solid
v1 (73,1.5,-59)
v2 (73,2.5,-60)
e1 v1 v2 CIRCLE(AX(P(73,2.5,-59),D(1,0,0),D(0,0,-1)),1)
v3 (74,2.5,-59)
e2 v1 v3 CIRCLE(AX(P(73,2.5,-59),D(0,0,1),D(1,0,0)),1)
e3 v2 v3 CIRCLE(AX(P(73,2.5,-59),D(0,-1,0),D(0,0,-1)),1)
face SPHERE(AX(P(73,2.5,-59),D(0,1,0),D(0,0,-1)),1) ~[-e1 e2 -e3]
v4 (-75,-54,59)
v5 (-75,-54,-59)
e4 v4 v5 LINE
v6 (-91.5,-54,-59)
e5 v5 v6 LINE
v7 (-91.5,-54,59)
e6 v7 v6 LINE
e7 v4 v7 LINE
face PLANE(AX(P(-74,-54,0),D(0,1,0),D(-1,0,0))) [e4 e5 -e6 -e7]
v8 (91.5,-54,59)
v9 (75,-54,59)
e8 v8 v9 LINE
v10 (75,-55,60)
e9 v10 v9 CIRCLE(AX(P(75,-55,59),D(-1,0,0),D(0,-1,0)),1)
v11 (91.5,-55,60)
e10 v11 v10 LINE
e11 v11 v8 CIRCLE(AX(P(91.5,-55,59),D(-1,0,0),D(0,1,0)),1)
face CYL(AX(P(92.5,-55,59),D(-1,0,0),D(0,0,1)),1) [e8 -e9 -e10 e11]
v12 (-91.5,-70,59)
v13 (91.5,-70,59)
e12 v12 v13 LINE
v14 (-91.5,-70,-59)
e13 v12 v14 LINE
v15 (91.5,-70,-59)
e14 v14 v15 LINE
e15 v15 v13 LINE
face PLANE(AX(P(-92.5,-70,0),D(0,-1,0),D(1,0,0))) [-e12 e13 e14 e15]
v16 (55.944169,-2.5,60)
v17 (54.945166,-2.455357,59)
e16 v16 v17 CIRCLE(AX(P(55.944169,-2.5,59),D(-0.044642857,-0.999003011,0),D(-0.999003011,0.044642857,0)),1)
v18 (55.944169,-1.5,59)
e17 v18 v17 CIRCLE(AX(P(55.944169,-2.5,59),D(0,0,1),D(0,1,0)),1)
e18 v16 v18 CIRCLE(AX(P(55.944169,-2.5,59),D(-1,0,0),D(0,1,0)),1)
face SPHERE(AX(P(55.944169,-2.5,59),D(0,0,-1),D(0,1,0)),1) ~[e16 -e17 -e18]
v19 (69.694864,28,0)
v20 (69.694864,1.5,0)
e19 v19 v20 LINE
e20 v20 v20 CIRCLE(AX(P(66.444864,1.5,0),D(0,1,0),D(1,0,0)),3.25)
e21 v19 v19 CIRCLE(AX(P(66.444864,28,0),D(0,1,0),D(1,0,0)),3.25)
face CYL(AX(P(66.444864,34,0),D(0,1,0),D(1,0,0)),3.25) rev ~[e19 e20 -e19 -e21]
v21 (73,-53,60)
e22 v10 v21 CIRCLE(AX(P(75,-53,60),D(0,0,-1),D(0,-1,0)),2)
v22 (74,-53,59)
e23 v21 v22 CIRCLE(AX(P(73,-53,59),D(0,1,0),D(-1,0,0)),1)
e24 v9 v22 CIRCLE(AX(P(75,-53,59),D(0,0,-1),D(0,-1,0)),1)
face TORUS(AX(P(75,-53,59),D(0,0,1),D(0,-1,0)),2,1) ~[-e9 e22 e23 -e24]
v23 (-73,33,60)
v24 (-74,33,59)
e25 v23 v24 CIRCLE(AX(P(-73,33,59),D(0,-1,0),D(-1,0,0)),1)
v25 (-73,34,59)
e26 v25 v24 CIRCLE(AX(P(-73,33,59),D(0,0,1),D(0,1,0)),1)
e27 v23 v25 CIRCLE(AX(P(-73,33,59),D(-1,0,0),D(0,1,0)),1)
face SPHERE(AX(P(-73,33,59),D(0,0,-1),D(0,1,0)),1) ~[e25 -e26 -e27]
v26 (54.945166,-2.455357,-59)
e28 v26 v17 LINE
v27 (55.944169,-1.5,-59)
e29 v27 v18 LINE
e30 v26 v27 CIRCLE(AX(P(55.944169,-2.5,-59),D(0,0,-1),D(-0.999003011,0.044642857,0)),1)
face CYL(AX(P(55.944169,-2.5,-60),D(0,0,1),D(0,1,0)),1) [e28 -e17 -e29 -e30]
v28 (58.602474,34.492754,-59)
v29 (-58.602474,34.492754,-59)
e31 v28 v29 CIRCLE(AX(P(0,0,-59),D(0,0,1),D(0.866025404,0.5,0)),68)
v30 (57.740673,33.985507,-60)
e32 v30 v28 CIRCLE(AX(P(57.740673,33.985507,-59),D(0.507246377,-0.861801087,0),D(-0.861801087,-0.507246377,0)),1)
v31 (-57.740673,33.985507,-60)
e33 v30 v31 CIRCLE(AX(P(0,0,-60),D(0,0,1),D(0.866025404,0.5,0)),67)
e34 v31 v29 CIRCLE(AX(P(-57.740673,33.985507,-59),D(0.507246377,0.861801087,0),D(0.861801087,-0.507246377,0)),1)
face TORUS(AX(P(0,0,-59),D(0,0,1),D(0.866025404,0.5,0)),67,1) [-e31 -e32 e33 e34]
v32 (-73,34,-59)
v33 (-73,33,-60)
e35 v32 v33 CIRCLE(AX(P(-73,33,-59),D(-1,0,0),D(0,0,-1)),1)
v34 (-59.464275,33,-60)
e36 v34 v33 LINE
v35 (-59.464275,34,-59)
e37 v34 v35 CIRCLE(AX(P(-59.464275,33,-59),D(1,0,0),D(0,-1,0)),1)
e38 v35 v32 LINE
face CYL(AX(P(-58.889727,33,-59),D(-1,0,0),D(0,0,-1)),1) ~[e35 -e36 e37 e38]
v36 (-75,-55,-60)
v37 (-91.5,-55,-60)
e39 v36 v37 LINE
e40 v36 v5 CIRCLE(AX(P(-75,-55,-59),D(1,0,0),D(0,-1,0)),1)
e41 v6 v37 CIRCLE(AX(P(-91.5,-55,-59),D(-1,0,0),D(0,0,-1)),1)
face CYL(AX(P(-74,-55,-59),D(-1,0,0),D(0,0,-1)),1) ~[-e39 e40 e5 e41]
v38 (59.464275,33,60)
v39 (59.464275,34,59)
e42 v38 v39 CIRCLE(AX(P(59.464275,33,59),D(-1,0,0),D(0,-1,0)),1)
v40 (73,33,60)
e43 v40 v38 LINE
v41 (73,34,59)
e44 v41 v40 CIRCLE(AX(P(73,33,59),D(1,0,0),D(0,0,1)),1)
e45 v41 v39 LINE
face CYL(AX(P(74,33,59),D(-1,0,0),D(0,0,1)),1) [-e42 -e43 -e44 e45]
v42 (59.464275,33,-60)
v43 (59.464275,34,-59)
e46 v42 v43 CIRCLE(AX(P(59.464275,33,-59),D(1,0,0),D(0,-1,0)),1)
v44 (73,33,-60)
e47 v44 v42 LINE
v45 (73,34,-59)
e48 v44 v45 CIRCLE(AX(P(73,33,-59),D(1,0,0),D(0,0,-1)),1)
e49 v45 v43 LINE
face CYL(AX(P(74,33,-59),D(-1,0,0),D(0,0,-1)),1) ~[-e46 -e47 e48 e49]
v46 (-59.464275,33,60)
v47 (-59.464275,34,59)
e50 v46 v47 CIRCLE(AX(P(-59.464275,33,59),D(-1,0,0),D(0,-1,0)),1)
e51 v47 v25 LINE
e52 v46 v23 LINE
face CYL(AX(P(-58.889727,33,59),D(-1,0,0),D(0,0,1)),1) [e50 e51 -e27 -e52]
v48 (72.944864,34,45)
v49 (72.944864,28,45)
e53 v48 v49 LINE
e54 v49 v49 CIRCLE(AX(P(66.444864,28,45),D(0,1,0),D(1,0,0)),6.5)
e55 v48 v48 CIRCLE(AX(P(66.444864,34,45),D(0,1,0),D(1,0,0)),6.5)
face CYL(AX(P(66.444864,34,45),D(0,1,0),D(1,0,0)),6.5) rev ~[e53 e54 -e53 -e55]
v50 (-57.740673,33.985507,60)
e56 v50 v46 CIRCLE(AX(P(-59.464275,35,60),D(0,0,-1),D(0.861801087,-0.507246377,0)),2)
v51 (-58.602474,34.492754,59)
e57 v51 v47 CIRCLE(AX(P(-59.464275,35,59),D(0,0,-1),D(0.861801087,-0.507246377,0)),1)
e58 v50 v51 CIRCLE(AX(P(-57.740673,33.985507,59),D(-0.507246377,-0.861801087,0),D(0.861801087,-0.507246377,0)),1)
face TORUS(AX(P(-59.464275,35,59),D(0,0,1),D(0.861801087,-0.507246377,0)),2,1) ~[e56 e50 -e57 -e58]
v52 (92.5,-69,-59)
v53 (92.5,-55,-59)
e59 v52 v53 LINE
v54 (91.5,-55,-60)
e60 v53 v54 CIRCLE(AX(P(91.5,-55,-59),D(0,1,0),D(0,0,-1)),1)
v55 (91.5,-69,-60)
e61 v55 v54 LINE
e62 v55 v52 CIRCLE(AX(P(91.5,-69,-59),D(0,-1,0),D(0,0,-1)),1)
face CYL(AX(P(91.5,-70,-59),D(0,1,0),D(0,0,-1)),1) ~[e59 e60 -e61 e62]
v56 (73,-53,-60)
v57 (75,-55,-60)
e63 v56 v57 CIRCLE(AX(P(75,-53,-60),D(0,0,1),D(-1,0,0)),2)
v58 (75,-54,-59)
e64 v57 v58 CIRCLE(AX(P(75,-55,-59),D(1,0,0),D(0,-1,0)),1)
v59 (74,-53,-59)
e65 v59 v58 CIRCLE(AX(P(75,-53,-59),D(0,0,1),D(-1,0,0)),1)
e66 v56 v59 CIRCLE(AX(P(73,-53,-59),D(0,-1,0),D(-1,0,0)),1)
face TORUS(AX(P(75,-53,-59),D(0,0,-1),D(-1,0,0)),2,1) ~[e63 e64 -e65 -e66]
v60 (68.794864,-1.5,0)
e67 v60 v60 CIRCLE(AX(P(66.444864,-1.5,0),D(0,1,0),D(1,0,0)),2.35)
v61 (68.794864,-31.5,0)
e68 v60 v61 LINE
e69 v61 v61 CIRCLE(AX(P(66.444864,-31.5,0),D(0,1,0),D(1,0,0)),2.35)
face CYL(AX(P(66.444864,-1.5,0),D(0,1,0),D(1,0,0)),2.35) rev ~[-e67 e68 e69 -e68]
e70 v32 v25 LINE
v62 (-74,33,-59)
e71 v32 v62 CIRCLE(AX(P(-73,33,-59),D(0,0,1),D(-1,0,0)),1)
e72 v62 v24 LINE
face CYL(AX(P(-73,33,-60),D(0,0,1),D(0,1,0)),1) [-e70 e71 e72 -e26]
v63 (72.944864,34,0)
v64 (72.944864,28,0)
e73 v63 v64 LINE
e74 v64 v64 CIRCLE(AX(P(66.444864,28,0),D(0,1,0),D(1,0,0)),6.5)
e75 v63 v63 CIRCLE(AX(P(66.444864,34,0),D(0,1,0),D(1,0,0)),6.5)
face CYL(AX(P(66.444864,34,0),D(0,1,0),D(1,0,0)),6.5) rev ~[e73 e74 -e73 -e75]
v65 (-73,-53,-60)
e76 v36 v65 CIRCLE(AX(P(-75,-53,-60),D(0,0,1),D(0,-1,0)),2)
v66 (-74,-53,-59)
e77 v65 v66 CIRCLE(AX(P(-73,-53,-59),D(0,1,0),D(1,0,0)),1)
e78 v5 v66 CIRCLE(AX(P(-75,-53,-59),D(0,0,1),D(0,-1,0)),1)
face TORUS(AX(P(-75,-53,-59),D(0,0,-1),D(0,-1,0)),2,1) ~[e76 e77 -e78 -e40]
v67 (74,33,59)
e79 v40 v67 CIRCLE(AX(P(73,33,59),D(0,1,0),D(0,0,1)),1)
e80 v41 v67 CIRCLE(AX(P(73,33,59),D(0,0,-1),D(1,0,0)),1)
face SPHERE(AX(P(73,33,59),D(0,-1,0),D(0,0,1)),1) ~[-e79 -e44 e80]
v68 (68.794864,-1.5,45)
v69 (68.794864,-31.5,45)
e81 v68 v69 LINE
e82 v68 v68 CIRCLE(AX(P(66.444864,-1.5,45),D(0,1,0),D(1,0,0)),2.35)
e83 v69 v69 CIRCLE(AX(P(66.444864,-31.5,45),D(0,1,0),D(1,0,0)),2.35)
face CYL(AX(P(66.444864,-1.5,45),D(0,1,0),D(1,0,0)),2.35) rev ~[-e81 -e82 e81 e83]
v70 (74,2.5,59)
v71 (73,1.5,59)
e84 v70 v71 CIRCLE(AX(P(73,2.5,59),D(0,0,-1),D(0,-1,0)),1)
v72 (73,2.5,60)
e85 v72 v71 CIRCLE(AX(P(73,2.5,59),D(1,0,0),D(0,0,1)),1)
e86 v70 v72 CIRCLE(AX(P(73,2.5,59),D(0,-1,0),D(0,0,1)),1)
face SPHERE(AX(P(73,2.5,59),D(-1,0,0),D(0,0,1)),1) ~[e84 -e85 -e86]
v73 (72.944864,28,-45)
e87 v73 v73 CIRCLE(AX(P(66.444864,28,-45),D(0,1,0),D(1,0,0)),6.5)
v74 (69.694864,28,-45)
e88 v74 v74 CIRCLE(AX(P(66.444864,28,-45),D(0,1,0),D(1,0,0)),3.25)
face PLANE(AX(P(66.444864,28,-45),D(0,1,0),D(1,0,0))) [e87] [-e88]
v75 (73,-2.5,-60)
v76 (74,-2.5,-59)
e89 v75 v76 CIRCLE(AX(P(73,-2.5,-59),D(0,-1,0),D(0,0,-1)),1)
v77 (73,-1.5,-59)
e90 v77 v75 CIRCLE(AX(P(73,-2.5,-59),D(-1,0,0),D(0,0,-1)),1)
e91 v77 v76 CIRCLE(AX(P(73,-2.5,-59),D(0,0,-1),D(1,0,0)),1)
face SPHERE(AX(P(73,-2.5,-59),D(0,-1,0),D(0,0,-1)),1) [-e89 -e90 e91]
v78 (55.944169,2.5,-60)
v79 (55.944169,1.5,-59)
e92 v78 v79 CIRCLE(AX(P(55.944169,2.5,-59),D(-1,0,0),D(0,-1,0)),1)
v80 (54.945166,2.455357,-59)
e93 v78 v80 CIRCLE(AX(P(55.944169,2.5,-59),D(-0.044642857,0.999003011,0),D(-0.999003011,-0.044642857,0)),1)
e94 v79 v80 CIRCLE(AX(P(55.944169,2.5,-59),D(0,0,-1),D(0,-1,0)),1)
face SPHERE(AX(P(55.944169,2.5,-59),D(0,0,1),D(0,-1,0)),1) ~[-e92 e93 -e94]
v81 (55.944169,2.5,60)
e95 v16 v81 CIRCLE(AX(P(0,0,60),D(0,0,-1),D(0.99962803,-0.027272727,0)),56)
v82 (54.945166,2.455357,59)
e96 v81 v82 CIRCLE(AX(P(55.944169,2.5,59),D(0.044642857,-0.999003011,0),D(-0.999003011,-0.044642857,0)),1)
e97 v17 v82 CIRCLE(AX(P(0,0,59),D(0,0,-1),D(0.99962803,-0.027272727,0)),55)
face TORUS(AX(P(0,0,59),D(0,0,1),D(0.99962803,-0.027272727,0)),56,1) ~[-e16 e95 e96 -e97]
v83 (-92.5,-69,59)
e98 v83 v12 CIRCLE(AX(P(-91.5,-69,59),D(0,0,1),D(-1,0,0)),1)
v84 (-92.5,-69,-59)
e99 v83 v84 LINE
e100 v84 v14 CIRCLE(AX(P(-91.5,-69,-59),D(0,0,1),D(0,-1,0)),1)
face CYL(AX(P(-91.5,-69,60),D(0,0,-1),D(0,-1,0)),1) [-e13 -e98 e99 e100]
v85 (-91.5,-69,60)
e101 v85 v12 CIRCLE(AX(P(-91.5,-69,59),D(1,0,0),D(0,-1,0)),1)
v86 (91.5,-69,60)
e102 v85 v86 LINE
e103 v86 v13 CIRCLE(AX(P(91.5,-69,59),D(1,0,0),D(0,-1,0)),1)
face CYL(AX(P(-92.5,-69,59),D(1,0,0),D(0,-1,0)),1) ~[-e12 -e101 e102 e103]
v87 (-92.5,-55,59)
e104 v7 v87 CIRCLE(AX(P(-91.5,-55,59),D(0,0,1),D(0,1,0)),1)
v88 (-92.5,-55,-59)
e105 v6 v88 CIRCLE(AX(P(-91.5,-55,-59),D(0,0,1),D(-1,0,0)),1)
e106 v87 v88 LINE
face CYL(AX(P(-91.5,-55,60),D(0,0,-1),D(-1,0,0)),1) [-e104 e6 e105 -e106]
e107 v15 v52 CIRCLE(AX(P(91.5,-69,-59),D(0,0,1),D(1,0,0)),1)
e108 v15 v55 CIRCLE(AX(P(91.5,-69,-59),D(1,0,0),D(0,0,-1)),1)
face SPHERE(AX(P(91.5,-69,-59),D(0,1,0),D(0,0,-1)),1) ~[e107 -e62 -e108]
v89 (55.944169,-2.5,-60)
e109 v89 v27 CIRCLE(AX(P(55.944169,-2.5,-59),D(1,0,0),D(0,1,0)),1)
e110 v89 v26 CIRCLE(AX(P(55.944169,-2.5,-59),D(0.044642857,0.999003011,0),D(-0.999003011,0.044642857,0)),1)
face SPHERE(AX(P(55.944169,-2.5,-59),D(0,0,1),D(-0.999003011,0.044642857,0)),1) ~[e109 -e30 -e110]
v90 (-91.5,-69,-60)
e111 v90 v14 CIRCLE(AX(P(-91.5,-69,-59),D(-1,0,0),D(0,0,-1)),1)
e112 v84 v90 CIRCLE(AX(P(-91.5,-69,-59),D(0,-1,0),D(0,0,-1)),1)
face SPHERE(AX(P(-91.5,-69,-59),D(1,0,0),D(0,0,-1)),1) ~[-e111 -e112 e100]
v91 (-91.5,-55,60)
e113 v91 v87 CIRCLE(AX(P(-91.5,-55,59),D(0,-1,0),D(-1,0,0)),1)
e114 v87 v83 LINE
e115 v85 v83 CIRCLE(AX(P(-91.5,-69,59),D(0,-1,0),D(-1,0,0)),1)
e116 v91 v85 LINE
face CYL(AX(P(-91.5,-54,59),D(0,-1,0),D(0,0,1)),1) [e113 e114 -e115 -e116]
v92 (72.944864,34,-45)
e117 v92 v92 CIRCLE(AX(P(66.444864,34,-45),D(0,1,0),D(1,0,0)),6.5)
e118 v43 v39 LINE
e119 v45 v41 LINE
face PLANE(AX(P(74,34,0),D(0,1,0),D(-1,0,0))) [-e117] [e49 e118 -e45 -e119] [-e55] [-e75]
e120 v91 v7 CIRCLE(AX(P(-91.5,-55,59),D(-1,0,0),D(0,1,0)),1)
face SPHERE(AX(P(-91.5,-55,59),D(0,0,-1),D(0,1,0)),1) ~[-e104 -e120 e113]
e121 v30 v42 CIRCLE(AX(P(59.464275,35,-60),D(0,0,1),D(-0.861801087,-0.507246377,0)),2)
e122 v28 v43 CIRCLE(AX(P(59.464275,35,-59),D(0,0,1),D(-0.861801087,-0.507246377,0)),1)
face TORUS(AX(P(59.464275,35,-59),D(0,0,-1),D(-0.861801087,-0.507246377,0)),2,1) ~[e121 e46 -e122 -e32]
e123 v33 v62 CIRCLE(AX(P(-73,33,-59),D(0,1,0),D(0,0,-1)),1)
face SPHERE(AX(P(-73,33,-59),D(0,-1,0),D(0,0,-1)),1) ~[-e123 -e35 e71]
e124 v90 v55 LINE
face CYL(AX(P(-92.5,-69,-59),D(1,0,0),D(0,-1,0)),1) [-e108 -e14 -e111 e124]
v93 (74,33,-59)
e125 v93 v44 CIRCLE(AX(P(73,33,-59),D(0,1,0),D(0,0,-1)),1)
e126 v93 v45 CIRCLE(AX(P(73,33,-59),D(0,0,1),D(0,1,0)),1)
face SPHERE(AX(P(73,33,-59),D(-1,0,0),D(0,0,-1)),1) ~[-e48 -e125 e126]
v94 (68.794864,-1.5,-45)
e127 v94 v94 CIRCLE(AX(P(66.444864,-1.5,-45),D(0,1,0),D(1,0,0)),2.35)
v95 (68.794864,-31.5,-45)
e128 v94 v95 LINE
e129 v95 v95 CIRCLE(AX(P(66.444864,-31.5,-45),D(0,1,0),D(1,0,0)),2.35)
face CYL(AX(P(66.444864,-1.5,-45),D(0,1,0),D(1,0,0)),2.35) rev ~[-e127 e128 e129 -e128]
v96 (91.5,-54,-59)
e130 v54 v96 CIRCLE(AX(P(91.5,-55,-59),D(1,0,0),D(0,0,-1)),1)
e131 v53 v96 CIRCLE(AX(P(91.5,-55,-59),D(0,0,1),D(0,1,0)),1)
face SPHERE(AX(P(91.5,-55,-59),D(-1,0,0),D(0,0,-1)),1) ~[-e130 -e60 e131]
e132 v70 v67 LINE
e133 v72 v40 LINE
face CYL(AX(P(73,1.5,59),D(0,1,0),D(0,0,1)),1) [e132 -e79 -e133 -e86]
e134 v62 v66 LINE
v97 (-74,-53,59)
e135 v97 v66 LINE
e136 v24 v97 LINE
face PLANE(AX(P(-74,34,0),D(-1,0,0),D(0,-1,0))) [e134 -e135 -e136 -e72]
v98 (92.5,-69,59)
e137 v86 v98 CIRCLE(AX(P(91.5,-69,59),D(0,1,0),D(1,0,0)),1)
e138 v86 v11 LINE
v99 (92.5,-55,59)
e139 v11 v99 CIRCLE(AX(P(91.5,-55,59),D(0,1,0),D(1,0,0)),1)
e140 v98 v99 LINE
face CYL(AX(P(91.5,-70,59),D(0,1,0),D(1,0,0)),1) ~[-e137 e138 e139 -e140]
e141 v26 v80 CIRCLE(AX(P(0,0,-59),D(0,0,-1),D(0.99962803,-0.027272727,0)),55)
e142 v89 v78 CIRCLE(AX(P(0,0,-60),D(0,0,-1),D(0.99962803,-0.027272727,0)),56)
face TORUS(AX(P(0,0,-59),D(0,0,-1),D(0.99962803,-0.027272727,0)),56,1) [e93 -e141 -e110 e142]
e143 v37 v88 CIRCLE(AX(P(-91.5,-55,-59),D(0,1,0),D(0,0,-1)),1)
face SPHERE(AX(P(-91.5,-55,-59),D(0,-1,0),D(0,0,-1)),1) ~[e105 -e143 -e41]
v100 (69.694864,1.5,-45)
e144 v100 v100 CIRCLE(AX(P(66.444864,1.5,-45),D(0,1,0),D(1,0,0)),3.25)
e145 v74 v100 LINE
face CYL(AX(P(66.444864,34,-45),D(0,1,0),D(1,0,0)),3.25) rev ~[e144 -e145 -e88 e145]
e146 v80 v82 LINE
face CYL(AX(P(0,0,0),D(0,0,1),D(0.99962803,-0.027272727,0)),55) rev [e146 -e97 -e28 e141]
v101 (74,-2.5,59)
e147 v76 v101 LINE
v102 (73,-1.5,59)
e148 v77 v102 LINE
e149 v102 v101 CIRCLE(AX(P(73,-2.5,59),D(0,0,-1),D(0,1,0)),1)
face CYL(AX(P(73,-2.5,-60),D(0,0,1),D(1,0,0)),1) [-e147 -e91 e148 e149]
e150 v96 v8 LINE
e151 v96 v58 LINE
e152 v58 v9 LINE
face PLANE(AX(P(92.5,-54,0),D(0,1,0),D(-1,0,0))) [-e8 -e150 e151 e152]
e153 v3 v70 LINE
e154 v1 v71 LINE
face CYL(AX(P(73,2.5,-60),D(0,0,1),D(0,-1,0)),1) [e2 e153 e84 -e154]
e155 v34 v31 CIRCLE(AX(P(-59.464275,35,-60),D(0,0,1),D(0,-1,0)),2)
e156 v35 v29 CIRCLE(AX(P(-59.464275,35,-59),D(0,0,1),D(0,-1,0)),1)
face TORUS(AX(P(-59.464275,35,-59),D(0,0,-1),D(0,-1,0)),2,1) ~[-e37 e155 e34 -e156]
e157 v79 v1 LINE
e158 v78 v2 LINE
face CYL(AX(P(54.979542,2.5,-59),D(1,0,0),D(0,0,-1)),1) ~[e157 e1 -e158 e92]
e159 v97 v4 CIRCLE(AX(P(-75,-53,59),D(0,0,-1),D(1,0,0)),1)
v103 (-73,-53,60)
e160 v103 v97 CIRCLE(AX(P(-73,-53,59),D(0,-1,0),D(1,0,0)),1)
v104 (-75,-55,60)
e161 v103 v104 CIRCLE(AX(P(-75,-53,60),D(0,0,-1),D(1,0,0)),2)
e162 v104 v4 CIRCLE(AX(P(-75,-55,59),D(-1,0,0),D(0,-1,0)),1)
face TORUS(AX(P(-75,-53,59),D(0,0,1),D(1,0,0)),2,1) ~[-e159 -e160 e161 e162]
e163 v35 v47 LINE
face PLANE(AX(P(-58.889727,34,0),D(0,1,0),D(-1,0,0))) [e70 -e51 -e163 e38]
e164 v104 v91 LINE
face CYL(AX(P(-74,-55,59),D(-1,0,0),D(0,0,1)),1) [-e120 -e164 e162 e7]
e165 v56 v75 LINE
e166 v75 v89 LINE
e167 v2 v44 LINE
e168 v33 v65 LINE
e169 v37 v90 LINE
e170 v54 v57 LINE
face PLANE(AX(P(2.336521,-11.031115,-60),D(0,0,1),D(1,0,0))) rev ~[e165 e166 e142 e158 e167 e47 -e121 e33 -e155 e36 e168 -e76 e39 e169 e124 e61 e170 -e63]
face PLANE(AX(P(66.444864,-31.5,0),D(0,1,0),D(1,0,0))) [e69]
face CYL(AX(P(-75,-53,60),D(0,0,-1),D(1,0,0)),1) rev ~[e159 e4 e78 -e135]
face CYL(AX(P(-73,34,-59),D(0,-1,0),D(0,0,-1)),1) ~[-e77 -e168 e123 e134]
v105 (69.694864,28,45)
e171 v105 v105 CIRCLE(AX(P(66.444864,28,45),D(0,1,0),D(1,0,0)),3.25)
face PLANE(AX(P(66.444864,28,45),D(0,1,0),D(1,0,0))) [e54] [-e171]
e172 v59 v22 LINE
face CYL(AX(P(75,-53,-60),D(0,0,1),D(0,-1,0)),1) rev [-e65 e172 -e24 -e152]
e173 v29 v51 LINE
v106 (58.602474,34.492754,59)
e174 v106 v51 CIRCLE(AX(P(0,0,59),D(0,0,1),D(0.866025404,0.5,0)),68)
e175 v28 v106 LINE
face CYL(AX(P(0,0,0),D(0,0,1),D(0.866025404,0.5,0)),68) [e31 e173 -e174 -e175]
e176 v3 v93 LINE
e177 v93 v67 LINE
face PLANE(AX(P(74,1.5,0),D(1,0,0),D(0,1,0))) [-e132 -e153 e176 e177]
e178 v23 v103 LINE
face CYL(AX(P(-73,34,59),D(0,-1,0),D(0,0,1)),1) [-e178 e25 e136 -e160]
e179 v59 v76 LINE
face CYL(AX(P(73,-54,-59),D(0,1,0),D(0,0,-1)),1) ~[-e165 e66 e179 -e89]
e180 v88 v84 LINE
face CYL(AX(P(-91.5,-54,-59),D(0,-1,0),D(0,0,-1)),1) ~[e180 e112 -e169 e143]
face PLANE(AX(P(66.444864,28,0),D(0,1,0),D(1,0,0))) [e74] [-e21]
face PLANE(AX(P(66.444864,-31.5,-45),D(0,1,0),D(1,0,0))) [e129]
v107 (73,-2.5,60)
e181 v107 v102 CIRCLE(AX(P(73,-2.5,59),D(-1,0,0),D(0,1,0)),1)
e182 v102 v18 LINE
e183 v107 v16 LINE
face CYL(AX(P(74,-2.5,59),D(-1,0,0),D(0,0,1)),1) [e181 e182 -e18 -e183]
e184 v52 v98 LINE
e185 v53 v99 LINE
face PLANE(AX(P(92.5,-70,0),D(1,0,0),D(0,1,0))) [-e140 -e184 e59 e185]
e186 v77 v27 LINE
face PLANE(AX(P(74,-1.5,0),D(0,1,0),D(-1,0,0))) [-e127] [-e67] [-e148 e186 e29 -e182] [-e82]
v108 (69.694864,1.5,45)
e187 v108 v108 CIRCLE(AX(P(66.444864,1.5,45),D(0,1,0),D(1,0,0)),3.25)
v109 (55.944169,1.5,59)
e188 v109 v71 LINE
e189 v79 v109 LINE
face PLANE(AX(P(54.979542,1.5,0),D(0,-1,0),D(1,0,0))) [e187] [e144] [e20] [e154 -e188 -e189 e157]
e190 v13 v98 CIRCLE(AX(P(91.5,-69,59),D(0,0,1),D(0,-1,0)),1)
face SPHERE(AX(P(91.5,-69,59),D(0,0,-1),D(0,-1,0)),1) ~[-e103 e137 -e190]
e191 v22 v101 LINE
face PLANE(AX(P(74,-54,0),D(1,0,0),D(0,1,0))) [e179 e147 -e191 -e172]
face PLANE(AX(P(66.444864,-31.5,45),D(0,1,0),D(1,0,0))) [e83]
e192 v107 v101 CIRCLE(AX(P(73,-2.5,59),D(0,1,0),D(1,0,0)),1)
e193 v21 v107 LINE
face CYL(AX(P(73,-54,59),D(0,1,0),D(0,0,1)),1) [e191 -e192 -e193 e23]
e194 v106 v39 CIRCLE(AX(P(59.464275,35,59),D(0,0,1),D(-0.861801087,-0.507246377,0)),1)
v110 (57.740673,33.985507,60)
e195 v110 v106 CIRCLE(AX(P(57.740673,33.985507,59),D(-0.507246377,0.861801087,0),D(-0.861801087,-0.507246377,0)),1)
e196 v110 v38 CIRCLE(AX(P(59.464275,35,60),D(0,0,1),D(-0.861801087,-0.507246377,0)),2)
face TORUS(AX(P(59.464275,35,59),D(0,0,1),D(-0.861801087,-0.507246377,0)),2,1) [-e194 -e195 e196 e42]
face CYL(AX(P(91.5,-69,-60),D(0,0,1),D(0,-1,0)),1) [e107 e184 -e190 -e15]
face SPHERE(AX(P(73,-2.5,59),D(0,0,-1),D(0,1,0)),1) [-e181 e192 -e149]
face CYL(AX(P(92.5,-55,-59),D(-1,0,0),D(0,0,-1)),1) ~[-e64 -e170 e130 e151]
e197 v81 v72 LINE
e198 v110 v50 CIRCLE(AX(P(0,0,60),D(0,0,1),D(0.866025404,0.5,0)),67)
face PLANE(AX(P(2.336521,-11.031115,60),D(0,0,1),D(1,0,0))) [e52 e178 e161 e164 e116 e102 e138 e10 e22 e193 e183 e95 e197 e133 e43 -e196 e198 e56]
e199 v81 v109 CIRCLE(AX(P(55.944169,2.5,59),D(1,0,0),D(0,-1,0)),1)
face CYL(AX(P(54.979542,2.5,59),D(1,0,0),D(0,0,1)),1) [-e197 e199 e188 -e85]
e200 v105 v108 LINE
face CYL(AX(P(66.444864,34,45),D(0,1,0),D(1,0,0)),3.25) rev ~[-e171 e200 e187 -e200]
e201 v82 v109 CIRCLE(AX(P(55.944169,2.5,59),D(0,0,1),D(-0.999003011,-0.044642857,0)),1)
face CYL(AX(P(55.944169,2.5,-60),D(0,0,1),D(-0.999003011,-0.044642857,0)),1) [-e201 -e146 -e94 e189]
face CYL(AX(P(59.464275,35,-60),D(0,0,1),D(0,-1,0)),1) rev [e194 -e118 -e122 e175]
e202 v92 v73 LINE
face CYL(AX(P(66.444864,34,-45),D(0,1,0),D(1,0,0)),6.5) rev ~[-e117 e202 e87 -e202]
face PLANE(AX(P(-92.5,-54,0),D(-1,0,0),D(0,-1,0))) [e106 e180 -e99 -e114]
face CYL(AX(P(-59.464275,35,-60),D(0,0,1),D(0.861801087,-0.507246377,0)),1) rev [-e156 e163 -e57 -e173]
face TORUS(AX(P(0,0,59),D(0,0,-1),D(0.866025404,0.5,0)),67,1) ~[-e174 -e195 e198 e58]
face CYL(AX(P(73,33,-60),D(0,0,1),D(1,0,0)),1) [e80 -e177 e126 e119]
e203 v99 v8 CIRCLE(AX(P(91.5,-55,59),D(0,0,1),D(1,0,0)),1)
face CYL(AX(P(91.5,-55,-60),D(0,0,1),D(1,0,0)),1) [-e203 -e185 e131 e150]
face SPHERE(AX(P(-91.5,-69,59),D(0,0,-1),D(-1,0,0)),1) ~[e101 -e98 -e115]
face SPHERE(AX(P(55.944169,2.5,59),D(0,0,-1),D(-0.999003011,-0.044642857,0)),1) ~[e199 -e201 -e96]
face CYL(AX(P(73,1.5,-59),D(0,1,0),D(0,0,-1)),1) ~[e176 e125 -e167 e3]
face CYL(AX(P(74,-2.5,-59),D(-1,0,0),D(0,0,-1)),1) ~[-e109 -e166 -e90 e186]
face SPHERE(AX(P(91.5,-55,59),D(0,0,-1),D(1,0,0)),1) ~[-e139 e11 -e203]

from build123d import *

# Parameters (mm, degrees)
EXTRUDE_1_DEPTH     = 60
SKETCH_2_R          = 6.5
CUT_EXTRUDE_1_DEPTH = 6
SKETCH_3_R          = 3.25
CUT_EXTRUDE_2_DEPTH = 35.5
SKETCH_4_R          = 2.35
CUT_EXTRUDE_3_DEPTH = 30
FILLET_1_R          = 1


with BuildPart() as part:
    # Эскиз1 → Бобышка-Вытянуть1 (new body, symmetric)
    with BuildSketch(Plane.XY):
        with BuildLine():
            Line((-92.5, -70), (92.5, -70))
            Line((92.5, -70), (92.5, -54))
            Line((92.5, -54), (74, -54))
            Line((74, -54), (74, -1.5))
            Line((74, -1.5), (54.97954165, -1.5))
            ThreePointArc((54.97954165, -1.5), (-55, 0), (54.97954165, 1.5))
            Line((54.97954165, 1.5), (74, 1.5))
            Line((74, 1.5), (74, 34))
            Line((74, 34), (58.889727457, 34))
            ThreePointArc((58.889727457, 34), (0, 68), (-58.889727457, 34))
            Line((-58.889727457, 34), (-74, 34))
            Line((-74, 34), (-74, -54))
            Line((-74, -54), (-92.5, -54))
            Line((-92.5, -54), (-92.5, -70))
        make_face()
    extrude(amount=EXTRUDE_1_DEPTH, both=True)

    # Эскиз2 → Вырез-Вытянуть1 (cut)
    with BuildSketch(Plane(origin=(0, 34, 0), x_dir=(1, 0, 0), z_dir=(0, 1, 0))):
        with Locations((66.444863729, 45)):
            Circle(SKETCH_2_R)
        with Locations((66.444863729, 0)):
            Circle(SKETCH_2_R)
        with Locations((66.444863729, -45)):
            Circle(SKETCH_2_R)
    extrude(amount=-CUT_EXTRUDE_1_DEPTH, mode=Mode.SUBTRACT)

    # Эскиз3 → Вырез-Вытянуть2 (cut)
    with BuildSketch(Plane(origin=(0, 34, 0), x_dir=(1, 0, 0), z_dir=(0, 1, 0))):
        with Locations((66.444863729, 45)):
            Circle(SKETCH_3_R)
        with Locations((66.444863729, 0)):
            Circle(SKETCH_3_R)
        with Locations((66.444863729, -45)):
            Circle(SKETCH_3_R)
    extrude(amount=-CUT_EXTRUDE_2_DEPTH, mode=Mode.SUBTRACT)

    # Эскиз4 → Вырез-Вытянуть3 (cut)
    with BuildSketch(Plane(origin=(0, -1.5, 0), x_dir=(1, 0, 0), z_dir=(0, 1, 0))):
        with Locations((66.444863729, 45)):
            Circle(SKETCH_4_R)
        with Locations((66.444863729, 0)):
            Circle(SKETCH_4_R)
        with Locations((66.444863729, -45)):
            Circle(SKETCH_4_R)
    extrude(amount=-CUT_EXTRUDE_3_DEPTH, mode=Mode.SUBTRACT)

    # Скругление1
    fillet_1_edges = [part.edges().sort_by_distance(p)[0] for p in [
        (74, -27.75, -60),
        (83.25, -54, -60),
        (92.5, -62, -60),
        (64.489770825, 1.5, 60),
        (0, -70, -60),
        (-92.5, -62, -60),
        (-83.25, -54, -60),
        (-74, -10, -60),
        (-66.444863729, 34, -60),
        (0, 68, -60),
        (66.444863729, 34, -60),
        (74, 17.75, -60),
        (64.489770825, 1.5, -60),
        (-55, 0, -60),
        (74, 17.75, 60),
        (64.489770825, -1.5, -60),
        (66.444863729, 34, 60),
        (74, -1.5, 0),
        (74, -54, 0),
        (92.5, -54, 0),
        (92.5, -70, 0),
        (-92.5, -70, 0),
        (-92.5, -54, 0),
        (-74, -54, 0),
        (-74, 34, 0),
        (-58.889727457, 34, 0),
        (58.889727457, 34, 0),
        (74, 34, 0),
        (74, 1.5, 0),
        (54.97954165, 1.5, 0),
        (54.97954165, -1.5, 0),
        (0, 68, 60),
        (-66.444863729, 34, 60),
        (-74, -10, 60),
        (64.489770825, -1.5, 60),
        (-83.25, -54, 60),
        (-92.5, -62, 60),
        (0, -70, 60),
        (92.5, -62, 60),
        (83.25, -54, 60),
        (74, -27.75, 60),
        (-55, 0, 60),
    ]]
    fillet(fillet_1_edges, radius=FILLET_1_R)


solid = part.part
